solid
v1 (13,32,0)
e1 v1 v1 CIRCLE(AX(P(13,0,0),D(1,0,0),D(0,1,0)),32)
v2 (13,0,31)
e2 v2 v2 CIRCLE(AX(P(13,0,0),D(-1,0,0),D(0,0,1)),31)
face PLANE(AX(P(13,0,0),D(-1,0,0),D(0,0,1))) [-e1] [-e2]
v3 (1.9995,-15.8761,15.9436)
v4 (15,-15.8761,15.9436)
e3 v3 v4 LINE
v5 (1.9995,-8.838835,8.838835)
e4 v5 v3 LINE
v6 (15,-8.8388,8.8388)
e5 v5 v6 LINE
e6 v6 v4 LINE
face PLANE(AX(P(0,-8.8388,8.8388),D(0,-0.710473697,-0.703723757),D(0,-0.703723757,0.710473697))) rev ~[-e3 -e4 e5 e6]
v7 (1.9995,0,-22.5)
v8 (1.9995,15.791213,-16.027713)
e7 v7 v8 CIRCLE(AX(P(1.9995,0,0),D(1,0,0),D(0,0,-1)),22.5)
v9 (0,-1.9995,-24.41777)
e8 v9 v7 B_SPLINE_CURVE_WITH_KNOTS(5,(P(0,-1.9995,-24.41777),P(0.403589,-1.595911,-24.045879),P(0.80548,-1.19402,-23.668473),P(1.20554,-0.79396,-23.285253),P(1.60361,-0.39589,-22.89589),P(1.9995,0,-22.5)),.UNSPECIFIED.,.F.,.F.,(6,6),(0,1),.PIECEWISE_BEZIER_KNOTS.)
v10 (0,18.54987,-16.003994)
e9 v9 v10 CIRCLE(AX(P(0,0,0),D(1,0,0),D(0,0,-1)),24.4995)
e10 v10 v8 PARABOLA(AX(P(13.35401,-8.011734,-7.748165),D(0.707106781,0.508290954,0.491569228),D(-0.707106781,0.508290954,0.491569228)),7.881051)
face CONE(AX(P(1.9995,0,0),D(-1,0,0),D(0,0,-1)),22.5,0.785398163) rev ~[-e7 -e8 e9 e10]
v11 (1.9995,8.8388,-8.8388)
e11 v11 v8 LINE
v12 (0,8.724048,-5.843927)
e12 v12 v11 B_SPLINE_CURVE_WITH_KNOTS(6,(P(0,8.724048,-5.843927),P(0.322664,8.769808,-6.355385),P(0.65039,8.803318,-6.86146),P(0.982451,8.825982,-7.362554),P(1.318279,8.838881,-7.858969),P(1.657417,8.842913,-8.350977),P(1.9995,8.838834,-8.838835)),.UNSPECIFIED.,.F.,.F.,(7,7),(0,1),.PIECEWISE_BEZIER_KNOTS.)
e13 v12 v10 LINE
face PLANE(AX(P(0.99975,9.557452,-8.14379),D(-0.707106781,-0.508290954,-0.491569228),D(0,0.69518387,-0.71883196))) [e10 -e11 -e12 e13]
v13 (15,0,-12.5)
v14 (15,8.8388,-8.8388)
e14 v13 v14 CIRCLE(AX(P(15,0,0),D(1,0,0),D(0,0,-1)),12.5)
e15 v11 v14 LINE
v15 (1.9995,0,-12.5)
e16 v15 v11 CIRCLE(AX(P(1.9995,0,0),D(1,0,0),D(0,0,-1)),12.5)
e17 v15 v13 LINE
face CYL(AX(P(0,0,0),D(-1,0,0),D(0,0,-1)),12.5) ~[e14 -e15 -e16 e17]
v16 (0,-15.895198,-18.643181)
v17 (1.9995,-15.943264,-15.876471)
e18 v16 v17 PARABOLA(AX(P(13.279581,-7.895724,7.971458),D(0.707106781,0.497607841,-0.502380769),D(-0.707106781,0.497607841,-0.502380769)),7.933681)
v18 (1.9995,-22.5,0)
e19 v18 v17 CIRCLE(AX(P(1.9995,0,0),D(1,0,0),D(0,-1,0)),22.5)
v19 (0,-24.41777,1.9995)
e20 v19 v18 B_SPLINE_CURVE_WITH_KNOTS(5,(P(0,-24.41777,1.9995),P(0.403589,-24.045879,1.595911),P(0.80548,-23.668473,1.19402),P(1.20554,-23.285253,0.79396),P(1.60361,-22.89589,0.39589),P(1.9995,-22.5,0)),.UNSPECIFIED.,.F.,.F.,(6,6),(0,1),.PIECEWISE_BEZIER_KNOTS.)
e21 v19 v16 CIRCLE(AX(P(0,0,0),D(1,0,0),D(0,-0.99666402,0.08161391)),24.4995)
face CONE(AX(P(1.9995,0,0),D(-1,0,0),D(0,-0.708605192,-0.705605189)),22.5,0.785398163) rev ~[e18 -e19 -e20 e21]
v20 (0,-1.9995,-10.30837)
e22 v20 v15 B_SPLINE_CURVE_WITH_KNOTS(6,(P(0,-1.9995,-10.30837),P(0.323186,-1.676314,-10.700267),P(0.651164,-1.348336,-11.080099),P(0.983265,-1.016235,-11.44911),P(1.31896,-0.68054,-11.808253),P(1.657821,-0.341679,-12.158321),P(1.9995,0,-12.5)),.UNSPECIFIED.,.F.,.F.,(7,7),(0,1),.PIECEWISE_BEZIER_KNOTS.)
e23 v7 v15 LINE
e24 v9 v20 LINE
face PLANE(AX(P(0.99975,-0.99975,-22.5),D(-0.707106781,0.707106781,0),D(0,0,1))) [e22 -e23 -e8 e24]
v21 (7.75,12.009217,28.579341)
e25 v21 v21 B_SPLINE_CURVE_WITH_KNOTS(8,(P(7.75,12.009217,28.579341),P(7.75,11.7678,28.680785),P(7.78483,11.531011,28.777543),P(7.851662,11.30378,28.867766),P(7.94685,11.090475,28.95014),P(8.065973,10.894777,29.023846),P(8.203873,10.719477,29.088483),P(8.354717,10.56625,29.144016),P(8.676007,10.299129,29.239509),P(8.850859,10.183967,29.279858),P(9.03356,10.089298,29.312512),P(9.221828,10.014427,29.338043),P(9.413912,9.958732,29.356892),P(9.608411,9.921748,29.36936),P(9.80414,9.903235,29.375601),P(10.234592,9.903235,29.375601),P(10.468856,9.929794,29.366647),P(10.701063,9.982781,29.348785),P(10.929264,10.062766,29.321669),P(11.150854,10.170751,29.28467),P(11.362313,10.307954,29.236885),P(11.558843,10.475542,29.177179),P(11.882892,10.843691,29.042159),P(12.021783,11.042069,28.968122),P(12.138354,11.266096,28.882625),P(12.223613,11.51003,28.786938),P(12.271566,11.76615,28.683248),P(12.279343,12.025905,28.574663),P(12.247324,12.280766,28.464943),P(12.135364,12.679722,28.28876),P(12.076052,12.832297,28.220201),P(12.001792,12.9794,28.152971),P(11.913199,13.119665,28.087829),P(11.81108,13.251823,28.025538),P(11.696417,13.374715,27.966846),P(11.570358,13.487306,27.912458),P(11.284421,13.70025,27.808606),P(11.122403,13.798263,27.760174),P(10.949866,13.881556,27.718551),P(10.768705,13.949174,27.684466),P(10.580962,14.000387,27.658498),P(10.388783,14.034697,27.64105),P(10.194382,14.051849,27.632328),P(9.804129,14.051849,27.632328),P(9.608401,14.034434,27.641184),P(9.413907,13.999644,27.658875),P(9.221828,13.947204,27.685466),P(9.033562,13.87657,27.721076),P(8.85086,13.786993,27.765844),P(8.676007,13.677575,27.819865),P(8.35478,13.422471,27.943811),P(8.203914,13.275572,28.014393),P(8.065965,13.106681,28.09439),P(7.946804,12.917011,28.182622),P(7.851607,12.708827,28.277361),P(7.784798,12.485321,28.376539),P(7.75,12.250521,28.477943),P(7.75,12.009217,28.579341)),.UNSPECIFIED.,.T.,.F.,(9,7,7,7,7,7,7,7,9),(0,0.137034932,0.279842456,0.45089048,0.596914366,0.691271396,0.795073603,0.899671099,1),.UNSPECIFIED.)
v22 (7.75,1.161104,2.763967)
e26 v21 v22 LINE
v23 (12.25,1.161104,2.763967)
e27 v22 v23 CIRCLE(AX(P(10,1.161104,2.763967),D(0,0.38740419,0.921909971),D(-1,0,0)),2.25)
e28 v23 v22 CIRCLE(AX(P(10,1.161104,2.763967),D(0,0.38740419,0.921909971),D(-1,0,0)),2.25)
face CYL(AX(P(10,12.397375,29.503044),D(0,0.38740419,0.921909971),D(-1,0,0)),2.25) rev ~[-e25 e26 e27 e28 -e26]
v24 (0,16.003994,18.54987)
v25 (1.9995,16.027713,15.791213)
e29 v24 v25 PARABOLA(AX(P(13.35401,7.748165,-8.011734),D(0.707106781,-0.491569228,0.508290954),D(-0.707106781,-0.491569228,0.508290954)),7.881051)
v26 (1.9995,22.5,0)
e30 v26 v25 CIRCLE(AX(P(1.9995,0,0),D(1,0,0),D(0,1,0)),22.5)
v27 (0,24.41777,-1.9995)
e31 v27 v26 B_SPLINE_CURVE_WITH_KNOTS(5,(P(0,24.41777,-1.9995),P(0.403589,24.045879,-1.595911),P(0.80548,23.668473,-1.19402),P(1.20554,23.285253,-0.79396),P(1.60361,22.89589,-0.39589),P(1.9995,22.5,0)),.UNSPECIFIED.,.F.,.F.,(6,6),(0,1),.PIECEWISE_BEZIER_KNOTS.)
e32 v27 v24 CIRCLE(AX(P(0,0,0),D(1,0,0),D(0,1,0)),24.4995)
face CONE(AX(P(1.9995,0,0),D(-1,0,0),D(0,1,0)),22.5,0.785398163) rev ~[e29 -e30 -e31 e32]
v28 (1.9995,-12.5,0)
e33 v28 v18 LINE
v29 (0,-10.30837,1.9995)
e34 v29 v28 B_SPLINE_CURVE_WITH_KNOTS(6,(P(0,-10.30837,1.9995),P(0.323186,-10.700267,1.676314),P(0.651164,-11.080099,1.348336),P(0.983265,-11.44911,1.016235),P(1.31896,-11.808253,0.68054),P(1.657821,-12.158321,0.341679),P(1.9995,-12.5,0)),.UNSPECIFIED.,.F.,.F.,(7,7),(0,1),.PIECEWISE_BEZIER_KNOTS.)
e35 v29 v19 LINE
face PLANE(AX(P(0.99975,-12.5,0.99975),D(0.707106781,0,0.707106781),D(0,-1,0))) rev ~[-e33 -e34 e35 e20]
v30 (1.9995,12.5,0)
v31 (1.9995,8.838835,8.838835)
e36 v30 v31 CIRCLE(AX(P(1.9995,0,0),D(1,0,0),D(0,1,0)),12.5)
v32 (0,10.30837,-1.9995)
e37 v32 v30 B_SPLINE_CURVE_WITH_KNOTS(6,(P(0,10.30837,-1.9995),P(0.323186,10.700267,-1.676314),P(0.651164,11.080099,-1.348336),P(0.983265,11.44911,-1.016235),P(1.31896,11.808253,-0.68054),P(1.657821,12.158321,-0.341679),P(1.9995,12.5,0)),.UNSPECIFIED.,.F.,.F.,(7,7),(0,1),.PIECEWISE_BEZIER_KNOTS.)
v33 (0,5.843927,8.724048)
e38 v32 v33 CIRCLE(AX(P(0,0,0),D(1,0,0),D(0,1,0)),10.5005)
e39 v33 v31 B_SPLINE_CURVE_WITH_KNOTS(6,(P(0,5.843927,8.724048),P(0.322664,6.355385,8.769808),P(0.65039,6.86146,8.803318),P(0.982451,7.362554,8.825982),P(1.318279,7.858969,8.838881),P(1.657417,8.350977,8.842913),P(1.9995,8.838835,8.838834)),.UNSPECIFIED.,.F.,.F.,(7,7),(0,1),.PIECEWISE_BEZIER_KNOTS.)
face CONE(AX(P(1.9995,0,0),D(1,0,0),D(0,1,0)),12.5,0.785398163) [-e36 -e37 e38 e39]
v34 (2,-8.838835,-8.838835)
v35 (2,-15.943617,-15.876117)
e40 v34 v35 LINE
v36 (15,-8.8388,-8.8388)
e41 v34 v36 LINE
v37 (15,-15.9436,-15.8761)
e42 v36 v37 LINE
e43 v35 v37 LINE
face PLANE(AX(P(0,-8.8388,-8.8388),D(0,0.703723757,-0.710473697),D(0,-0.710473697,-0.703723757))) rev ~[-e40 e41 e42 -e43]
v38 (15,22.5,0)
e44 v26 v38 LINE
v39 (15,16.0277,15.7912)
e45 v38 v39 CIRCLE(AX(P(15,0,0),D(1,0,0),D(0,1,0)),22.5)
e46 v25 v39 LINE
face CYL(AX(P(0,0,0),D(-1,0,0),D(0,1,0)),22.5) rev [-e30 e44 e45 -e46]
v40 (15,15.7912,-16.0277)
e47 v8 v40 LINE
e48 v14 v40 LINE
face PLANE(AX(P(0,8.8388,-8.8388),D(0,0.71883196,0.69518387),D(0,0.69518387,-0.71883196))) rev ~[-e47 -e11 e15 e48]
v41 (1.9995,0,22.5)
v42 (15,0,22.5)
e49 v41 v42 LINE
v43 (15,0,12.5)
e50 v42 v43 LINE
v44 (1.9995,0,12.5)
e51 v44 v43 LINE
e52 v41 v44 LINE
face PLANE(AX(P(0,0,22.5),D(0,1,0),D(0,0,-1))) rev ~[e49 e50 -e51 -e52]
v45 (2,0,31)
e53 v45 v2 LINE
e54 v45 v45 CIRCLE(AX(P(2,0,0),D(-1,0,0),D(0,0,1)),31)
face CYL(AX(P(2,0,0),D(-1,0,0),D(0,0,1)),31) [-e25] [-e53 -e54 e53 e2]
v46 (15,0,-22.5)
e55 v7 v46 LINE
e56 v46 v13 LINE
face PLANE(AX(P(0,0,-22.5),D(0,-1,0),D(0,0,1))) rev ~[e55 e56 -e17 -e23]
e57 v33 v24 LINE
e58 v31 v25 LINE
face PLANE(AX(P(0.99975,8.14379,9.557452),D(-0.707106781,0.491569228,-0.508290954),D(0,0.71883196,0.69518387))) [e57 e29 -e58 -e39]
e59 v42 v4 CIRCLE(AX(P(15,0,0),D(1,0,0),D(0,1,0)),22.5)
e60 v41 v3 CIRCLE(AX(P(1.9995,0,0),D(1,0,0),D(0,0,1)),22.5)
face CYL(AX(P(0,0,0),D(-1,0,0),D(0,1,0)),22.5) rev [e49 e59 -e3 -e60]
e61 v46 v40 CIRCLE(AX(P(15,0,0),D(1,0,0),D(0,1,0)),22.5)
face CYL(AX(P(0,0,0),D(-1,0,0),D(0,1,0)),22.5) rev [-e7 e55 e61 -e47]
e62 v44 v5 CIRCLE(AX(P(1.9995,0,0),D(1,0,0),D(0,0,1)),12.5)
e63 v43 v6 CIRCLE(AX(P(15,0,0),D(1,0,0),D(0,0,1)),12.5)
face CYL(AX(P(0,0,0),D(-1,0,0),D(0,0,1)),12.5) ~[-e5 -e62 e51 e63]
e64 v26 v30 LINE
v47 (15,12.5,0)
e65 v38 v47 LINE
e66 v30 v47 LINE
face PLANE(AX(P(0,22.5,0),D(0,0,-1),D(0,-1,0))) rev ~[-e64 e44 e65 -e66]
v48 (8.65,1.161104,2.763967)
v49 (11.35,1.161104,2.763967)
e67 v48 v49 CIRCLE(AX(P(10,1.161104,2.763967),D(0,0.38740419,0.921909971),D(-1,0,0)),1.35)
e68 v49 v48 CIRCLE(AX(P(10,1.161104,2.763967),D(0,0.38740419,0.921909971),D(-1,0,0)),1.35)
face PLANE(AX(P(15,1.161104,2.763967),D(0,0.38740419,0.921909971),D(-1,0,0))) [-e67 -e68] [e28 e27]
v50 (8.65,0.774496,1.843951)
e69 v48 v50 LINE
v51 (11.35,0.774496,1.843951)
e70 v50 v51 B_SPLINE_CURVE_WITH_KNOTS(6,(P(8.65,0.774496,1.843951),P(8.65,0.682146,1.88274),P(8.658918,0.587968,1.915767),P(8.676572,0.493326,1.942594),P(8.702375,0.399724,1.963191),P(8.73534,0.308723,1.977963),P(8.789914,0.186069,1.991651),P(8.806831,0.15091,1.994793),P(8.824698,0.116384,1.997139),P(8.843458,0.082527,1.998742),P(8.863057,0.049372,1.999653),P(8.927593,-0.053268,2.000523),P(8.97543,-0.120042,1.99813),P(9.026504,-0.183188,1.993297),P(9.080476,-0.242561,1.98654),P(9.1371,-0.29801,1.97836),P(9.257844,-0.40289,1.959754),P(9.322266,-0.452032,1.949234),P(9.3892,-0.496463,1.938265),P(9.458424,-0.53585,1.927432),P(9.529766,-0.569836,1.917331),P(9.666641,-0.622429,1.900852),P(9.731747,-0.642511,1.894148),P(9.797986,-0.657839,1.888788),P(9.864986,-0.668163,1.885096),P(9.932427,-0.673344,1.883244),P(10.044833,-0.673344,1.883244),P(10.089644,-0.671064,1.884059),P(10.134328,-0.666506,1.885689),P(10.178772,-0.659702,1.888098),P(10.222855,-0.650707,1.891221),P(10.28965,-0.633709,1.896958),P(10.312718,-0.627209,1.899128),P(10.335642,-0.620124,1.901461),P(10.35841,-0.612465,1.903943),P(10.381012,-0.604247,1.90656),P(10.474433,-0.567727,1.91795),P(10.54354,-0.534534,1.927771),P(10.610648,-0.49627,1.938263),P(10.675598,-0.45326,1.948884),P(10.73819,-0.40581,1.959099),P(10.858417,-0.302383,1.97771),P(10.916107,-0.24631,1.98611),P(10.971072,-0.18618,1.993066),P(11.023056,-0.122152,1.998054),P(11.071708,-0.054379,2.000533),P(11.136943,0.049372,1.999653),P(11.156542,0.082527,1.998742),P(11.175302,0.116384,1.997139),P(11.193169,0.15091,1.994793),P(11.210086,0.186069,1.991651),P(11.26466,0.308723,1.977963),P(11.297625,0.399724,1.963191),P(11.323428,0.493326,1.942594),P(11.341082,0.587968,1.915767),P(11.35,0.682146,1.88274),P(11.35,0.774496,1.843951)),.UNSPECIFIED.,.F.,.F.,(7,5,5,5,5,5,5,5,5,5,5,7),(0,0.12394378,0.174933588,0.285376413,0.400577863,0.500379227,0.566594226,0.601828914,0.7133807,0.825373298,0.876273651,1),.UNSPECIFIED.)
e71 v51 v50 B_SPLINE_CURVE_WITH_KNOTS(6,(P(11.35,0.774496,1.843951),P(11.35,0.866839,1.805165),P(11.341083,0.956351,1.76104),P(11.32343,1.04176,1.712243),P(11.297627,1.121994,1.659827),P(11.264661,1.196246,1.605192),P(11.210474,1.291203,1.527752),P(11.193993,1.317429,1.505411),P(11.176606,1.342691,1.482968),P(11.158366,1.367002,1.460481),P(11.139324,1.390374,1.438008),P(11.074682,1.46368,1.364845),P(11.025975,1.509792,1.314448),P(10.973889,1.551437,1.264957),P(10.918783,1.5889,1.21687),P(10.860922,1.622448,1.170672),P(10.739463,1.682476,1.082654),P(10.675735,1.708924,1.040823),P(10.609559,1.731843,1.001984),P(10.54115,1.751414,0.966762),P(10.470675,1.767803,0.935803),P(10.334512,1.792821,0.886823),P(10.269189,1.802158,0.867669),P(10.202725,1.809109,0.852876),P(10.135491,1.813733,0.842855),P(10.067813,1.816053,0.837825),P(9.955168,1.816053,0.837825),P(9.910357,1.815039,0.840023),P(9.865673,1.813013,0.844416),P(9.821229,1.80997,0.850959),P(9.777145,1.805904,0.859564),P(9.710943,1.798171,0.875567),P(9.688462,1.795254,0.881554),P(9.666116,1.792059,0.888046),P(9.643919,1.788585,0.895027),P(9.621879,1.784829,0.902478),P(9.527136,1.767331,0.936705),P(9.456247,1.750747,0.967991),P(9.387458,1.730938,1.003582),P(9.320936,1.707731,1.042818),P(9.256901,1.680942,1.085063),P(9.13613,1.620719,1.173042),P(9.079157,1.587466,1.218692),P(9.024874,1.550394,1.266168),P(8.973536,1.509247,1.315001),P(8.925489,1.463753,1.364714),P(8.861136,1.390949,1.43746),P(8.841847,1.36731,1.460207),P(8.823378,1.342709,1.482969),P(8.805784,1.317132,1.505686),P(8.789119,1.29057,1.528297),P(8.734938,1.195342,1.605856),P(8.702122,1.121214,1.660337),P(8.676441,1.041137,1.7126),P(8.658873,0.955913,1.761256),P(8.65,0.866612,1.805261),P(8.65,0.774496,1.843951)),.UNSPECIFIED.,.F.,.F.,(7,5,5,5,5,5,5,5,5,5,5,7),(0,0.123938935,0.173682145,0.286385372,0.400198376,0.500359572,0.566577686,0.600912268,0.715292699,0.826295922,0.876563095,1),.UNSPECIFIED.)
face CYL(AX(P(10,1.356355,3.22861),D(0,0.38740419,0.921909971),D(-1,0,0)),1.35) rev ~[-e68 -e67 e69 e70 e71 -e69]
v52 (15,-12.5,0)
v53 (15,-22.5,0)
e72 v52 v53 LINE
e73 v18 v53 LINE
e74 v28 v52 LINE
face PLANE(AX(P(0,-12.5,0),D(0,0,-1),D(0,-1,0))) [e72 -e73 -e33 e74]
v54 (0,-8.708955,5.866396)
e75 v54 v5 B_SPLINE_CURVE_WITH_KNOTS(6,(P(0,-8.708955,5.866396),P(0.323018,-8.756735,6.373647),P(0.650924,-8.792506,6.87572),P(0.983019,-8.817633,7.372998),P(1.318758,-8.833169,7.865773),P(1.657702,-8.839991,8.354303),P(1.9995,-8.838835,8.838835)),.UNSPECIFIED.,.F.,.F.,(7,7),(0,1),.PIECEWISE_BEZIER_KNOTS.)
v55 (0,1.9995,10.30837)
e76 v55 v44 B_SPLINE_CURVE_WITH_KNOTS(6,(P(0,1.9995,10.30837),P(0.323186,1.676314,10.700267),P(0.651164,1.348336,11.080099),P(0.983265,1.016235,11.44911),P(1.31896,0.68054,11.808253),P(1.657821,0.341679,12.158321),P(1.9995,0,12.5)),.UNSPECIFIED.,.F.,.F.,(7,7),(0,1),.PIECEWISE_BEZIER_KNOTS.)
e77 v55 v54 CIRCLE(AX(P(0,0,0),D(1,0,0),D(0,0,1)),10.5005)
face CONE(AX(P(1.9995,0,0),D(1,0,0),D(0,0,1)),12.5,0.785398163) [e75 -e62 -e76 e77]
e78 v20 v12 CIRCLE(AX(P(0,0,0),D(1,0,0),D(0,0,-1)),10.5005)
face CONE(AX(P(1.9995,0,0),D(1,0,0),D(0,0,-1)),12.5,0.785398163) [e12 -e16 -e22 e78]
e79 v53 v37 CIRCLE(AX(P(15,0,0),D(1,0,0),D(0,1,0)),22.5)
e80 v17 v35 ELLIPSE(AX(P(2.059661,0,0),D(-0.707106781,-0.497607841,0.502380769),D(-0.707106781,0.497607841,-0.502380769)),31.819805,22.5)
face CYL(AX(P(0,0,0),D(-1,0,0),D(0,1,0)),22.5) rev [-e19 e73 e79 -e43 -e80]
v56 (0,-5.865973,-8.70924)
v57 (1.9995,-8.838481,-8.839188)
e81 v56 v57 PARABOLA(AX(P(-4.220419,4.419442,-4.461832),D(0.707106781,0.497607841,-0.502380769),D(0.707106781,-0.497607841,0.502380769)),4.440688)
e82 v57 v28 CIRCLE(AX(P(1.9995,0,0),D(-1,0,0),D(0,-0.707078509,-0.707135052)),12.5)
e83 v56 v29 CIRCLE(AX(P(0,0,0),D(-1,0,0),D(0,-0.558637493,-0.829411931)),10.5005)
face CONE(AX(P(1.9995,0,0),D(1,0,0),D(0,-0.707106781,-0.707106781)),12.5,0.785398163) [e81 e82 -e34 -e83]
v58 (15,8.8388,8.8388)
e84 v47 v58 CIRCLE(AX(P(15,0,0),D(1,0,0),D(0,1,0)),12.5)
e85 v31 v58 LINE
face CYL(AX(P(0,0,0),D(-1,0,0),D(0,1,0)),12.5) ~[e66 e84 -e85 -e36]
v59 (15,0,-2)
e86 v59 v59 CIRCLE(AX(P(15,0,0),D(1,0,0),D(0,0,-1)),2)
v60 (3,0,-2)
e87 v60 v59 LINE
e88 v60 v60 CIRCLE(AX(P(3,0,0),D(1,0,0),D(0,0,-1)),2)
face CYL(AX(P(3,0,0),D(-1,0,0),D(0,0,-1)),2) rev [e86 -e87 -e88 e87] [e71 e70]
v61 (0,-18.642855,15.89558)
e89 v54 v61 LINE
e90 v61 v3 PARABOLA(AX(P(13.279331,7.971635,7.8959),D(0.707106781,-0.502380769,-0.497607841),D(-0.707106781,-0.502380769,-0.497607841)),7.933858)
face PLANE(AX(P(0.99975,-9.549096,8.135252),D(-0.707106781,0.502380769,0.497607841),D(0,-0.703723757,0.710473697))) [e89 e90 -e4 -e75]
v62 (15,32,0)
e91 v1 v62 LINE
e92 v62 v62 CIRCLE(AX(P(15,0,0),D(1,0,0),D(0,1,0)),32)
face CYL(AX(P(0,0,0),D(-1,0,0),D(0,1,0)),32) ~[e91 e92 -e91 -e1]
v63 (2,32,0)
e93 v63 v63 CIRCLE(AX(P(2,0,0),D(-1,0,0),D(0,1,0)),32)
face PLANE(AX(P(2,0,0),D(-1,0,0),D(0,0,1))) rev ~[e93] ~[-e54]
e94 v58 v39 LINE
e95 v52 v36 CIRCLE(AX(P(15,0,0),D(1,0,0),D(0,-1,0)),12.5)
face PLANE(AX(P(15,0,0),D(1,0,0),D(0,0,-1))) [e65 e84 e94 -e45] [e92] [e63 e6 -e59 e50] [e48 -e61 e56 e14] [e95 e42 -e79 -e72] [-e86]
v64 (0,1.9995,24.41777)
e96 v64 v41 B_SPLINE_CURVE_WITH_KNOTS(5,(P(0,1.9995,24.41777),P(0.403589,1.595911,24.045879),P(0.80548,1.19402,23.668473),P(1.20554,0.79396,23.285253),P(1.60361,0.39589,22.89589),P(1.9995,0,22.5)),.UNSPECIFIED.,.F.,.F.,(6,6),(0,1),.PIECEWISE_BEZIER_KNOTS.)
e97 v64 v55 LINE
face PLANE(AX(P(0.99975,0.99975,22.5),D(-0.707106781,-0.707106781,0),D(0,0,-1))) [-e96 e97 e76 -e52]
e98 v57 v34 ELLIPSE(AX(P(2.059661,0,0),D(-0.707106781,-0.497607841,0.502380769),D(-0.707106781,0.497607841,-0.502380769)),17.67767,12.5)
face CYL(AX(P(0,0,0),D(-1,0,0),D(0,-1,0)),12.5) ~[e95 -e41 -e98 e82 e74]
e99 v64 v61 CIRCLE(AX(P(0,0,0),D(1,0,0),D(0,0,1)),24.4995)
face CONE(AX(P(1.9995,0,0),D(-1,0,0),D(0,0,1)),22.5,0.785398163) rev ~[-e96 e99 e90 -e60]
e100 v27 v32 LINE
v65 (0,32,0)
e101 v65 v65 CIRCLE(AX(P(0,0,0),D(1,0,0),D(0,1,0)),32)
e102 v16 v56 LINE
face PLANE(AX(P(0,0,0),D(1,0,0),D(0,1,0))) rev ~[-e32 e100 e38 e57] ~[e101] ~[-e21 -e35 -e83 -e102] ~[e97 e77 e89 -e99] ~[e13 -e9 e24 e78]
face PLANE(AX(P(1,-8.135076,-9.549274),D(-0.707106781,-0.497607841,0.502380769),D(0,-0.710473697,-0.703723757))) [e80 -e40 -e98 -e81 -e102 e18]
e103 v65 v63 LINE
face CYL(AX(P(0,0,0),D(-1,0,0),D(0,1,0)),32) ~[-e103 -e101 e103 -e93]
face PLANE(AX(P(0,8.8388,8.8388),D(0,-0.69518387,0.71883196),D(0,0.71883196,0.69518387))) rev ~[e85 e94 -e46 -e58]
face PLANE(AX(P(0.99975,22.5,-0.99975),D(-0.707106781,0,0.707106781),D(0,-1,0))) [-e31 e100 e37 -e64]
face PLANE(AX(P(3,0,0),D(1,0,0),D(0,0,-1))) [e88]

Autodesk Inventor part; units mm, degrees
ref_plane "XZ Plane" through (0, 0, 0) normal (0, 1, 0) x (-1, 0, 0)
ref_plane "XY Plane" through (0, 0, 0) normal (0, 0, 1) x (1, 0, 0)
sketch "Эскиз1" plane through (0, 0, 0) normal (1, 0, 0) x (0, 1, 0)
  circle A0 centre (0, 0) radius 33
  circle A1 centre (0, 0) radius 27.5
  line L0 (27.5, 0) -> (12.5, 0)
  line L1 (0, 27.5) -> (0, 12.5)
  arc A2 (0, -12.5) -> (12.5, 0) centre (0, 0) ccw
  arc A3 (-12.5, 0) -> (0, -12.5) centre (0, 0) ccw
  arc A4 (0, 12.5) -> (-12.5, 0) centre (0, 0) ccw
  arc A5 (12.5, 0) -> (0, 12.5) centre (0, 0) ccw
  line L2 (27.5, 0) -> (22.5, 0)
  line L3 (0, -27.5) -> (0, -22.5)
  line L4 (27.5, 0) -> (22.5, 0)
  line L5 (0, 27.5) -> (0, 22.5)
  line L6 (-27.5, 0) -> (-22.5, 0)
  circle A6 centre (0, 0) radius 22.5
  line L7 (-8.8388, -8.8388) -> (-15.9436, -15.8761)
  line L8 (-12.5, 0) -> (-22.5, 0)
  line L9 (-8.8388, 8.8388) -> (-15.8761, 15.9436)
  line L10 (8.8388, 8.8388) -> (16.0277, 15.7912)
  line L11 (12.5, 0) -> (22.5, 0)
  line L12 (0, 12.5) -> (0, 22.5)
  line L13 (8.8388, -8.8388) -> (15.7912, -16.0277)
  line L14 (0, -22.5) -> (0, -12.5)
  circle A7 centre (0, 0) radius 27.5
  circle A8 centre (0, 0) radius 32
  point P0 (-27.5, 0)
  point P1 (0, 22.5)
  point P2 (0, 22.5)
  point P3 (-22.5, 0)
  point P4 (-22.5, 0)
  dimension "d2" = 15
  dimension "d3" = 15
  dimension "d4" = 15
  dimension "d5" = 15
  dimension "d21" = 5
  dimension "d22" = 5
  dimension "d25" = 360
  dimension "d67" = 64
extrude "Выдавливание1" add sketch "Эскиз1" along normal blind 15 contours L0 A6 L1 A1 | A1 L3 A6 L0 | L1 A6 L6 A1 | A1 L6 A6 L3 | A6 L13 A2 L0 | L0 A5 L10 A6 | A6 L10 A5 L1 | L1 A4 L9 A6 | L14 A2 L13 A6 | A6 L7 A3 L14 | A2 A3 A4 A5 | L8 A3 L7 A6 | A6 L9 A4 L8 | A8
sketch "Эскиз5" plane through (15, 0, 0) normal (1, 0, 0) x (0, 0, -1)
  point P0 (0, 0)
extrude "Выдавливание3" cut sketch "Эскиз1" along normal blind 15 contours L0 A5 L10 A6 | L1 A4 L9 A6 | L14 A2 L13 A6 | L8 A3 L7 A6
sketch "Эскиз6" plane through (15, 0, 0) normal (1, 0, 0) x (0, 0, -1)
  circle A0 centre (0, 0) radius 11.25
  arc A1 (0, 12.5) -> (-8.8388, 8.8388) centre (0, 0) ccw projected
  arc A2 (0, 12.5) -> (-8.8388, 8.8388) centre (0, 0) ccw
  line L0 (0, 0) -> (-3.0615, 7.391) construction
  circle A3 centre (-3.0615, 7.391) radius 1.5
  circle A4 centre (-7.391, -3.0615) radius 1.5
  circle A5 centre (3.0615, -7.391) radius 1.5
  circle A6 centre (7.391, 3.0615) radius 1.5
  arc A7 (-3.0615, 7.391) -> (-7.391, -3.0615) centre (0, 0) ccw
  line L1 (-8.8388, 8.8388) -> (-22.3952, 22.8573) construction
  circle A8 centre (0, 0) radius 32 construction
  line L2 (-8.8388, 8.8388) -> (10.6622, 8.8388) construction
  arc A9 (-22.3952, 22.8573) -> (-32, 0) centre (0, 0) ccw construction
  line L3 (-29.5012, 12.3966) -> (-7.391, 3.0615)
  dimension "d31" = 22.5
  dimension "d72" = 8
  dimension "d74" = 3
  dimension "d77" = 360
  dimension "d79" = 134.04
extrude "Выдавливание4" [suppressed]
extrude "Выдавливание5" cut sketch "Эскиз6" against normal blind 12 contours A3 | A4 | A0 | A5 | A6
extrude "Выдавливание6" [suppressed]
chamfer "Фаска2" distance 2 angle 45 1 edges at (0, -12.3912, -12.3575)
chamfer "Фаска3" distance 2 angle 45 15 edges at (0, -20.7964, -8.5883) (0, -17.5, 0) (0, -11.5485, -4.7835) (0, 0, -17.5) (0, 8.5331, -20.8191) (0, 12.315, -12.4333) (0, 4.7835, -11.5485) (0, 17.5, 0) (0, 11.5485, 4.7835) (0, 20.8191, 8.5331) (0, 12.4333, 12.315) (0, 0, 17.5) (0, -4.7835, 11.5485) (0, -12.3575, 12.3912) (0, -8.5883, 20.7964)
ref_plane "РабПлоскость3" through (2, 0, 0) normal (1, 0, 0) x (0, 1, 0)
sketch "Эскиз10" plane through (2, 0, 0) normal (1, 0, 0) x (0, 1, 0)
  circle A0 centre (0, 0) radius 26.5
  circle A1 centre (0, 0) radius 27.5 projected
  circle A2 centre (0, 0) radius 26.5
  dimension "d66" = 53
sketch "Эскиз11" plane through (0, 0, 0) normal (-1, 0, 0) x (0, 0, 1)
  circle A0 centre (0, 0) radius 31
  circle A1 centre (0, 0) radius 32
  dimension "d68" = 62
extrude "Выдавливание9" cut sketch "Эскиз11" against normal blind 11 from surface at -2
sketch "Эскиз12" plane through (15, 0, 0) normal (1, 0, 0) x (0, 0, -1)
  circle A0 centre (0, 0) radius 32 projected
  arc A1 (0, 12.5) -> (-8.8388, 8.8388) centre (0, 0) ccw projected
  line L0 (-8.8388, 8.8388) -> (-22.3952, 22.8573)
  circle A2 centre (0, 0) radius 32 projected
  line L1 (-8.8388, 8.8388) -> (10.6622, 8.8388) construction
  point P0 (0, 0)
  point P1 (-32, 0)
  dimension "d85" = 134.04
ref_plane "РабПлоскость4" through (15, 12.3966, 29.5012) normal (0, 0.3874, 0.9219) x (-1, 0, 0)
sketch "Эскиз14" plane through (15, 12.3966, 29.5012) normal (0, 0.3874, 0.9219) x (-1, 0, 0)
  line L0 (0, -11.25) -> (0, 11.25) projected
  line L1 (0, 0) -> (5, 0)
  circle A0 centre (5, 0) radius 2.25
  circle A1 centre (5, 0) radius 1.35
  point P0 (15, 0)
  point P1 (8, 0)
  dimension "d95" = 5
  dimension "d96" = 4.5
  dimension "d99" = 2.7
extrude "Выдавливание11" [suppressed]
sketch "Эскиз15" plane through (3, 0, 0) normal (1, 0, 0) x (0, 0, -1)
  circle A0 centre (0, 0) radius 2
  dimension "d90" = 4
sketch "Эскиз16" plane through (3, 0, 0) normal (1, 0, 0) x (0, 0, -1)
  circle A0 centre (0, 0) radius 3.5
  circle A1 centre (0, 0) radius 2
  dimension "d91" = 7
  dimension "d92" = 4
extrude "Выдавливание12" add sketch "Эскиз16" along normal blind 12
ref_plane "РабПлоскость6" through (15, 1.3559, 3.2267) normal (0, 0.3874, 0.9219) x (-1, 0, 0)
extrude "Выдавливание14" cut sketch "Эскиз14" against normal blind 4 from surface at -28.5 contours A1
sketch "Эскиз18" plane through (15, 0, 0) normal (1, 0, 0) x (0, 0, -1)
  circle A0 centre (0, 0) radius 3.5 projected
  circle A1 centre (0, 0) radius 3.5
  circle A2 centre (0, 0) radius 11.25
extrude "Выдавливание15" add sketch "Эскиз18" against normal blind 12
extrude "Выдавливание16" cut sketch "Эскиз14" against normal blind 29 contours A1 | A0
properties part number "колеса прототип 1"
